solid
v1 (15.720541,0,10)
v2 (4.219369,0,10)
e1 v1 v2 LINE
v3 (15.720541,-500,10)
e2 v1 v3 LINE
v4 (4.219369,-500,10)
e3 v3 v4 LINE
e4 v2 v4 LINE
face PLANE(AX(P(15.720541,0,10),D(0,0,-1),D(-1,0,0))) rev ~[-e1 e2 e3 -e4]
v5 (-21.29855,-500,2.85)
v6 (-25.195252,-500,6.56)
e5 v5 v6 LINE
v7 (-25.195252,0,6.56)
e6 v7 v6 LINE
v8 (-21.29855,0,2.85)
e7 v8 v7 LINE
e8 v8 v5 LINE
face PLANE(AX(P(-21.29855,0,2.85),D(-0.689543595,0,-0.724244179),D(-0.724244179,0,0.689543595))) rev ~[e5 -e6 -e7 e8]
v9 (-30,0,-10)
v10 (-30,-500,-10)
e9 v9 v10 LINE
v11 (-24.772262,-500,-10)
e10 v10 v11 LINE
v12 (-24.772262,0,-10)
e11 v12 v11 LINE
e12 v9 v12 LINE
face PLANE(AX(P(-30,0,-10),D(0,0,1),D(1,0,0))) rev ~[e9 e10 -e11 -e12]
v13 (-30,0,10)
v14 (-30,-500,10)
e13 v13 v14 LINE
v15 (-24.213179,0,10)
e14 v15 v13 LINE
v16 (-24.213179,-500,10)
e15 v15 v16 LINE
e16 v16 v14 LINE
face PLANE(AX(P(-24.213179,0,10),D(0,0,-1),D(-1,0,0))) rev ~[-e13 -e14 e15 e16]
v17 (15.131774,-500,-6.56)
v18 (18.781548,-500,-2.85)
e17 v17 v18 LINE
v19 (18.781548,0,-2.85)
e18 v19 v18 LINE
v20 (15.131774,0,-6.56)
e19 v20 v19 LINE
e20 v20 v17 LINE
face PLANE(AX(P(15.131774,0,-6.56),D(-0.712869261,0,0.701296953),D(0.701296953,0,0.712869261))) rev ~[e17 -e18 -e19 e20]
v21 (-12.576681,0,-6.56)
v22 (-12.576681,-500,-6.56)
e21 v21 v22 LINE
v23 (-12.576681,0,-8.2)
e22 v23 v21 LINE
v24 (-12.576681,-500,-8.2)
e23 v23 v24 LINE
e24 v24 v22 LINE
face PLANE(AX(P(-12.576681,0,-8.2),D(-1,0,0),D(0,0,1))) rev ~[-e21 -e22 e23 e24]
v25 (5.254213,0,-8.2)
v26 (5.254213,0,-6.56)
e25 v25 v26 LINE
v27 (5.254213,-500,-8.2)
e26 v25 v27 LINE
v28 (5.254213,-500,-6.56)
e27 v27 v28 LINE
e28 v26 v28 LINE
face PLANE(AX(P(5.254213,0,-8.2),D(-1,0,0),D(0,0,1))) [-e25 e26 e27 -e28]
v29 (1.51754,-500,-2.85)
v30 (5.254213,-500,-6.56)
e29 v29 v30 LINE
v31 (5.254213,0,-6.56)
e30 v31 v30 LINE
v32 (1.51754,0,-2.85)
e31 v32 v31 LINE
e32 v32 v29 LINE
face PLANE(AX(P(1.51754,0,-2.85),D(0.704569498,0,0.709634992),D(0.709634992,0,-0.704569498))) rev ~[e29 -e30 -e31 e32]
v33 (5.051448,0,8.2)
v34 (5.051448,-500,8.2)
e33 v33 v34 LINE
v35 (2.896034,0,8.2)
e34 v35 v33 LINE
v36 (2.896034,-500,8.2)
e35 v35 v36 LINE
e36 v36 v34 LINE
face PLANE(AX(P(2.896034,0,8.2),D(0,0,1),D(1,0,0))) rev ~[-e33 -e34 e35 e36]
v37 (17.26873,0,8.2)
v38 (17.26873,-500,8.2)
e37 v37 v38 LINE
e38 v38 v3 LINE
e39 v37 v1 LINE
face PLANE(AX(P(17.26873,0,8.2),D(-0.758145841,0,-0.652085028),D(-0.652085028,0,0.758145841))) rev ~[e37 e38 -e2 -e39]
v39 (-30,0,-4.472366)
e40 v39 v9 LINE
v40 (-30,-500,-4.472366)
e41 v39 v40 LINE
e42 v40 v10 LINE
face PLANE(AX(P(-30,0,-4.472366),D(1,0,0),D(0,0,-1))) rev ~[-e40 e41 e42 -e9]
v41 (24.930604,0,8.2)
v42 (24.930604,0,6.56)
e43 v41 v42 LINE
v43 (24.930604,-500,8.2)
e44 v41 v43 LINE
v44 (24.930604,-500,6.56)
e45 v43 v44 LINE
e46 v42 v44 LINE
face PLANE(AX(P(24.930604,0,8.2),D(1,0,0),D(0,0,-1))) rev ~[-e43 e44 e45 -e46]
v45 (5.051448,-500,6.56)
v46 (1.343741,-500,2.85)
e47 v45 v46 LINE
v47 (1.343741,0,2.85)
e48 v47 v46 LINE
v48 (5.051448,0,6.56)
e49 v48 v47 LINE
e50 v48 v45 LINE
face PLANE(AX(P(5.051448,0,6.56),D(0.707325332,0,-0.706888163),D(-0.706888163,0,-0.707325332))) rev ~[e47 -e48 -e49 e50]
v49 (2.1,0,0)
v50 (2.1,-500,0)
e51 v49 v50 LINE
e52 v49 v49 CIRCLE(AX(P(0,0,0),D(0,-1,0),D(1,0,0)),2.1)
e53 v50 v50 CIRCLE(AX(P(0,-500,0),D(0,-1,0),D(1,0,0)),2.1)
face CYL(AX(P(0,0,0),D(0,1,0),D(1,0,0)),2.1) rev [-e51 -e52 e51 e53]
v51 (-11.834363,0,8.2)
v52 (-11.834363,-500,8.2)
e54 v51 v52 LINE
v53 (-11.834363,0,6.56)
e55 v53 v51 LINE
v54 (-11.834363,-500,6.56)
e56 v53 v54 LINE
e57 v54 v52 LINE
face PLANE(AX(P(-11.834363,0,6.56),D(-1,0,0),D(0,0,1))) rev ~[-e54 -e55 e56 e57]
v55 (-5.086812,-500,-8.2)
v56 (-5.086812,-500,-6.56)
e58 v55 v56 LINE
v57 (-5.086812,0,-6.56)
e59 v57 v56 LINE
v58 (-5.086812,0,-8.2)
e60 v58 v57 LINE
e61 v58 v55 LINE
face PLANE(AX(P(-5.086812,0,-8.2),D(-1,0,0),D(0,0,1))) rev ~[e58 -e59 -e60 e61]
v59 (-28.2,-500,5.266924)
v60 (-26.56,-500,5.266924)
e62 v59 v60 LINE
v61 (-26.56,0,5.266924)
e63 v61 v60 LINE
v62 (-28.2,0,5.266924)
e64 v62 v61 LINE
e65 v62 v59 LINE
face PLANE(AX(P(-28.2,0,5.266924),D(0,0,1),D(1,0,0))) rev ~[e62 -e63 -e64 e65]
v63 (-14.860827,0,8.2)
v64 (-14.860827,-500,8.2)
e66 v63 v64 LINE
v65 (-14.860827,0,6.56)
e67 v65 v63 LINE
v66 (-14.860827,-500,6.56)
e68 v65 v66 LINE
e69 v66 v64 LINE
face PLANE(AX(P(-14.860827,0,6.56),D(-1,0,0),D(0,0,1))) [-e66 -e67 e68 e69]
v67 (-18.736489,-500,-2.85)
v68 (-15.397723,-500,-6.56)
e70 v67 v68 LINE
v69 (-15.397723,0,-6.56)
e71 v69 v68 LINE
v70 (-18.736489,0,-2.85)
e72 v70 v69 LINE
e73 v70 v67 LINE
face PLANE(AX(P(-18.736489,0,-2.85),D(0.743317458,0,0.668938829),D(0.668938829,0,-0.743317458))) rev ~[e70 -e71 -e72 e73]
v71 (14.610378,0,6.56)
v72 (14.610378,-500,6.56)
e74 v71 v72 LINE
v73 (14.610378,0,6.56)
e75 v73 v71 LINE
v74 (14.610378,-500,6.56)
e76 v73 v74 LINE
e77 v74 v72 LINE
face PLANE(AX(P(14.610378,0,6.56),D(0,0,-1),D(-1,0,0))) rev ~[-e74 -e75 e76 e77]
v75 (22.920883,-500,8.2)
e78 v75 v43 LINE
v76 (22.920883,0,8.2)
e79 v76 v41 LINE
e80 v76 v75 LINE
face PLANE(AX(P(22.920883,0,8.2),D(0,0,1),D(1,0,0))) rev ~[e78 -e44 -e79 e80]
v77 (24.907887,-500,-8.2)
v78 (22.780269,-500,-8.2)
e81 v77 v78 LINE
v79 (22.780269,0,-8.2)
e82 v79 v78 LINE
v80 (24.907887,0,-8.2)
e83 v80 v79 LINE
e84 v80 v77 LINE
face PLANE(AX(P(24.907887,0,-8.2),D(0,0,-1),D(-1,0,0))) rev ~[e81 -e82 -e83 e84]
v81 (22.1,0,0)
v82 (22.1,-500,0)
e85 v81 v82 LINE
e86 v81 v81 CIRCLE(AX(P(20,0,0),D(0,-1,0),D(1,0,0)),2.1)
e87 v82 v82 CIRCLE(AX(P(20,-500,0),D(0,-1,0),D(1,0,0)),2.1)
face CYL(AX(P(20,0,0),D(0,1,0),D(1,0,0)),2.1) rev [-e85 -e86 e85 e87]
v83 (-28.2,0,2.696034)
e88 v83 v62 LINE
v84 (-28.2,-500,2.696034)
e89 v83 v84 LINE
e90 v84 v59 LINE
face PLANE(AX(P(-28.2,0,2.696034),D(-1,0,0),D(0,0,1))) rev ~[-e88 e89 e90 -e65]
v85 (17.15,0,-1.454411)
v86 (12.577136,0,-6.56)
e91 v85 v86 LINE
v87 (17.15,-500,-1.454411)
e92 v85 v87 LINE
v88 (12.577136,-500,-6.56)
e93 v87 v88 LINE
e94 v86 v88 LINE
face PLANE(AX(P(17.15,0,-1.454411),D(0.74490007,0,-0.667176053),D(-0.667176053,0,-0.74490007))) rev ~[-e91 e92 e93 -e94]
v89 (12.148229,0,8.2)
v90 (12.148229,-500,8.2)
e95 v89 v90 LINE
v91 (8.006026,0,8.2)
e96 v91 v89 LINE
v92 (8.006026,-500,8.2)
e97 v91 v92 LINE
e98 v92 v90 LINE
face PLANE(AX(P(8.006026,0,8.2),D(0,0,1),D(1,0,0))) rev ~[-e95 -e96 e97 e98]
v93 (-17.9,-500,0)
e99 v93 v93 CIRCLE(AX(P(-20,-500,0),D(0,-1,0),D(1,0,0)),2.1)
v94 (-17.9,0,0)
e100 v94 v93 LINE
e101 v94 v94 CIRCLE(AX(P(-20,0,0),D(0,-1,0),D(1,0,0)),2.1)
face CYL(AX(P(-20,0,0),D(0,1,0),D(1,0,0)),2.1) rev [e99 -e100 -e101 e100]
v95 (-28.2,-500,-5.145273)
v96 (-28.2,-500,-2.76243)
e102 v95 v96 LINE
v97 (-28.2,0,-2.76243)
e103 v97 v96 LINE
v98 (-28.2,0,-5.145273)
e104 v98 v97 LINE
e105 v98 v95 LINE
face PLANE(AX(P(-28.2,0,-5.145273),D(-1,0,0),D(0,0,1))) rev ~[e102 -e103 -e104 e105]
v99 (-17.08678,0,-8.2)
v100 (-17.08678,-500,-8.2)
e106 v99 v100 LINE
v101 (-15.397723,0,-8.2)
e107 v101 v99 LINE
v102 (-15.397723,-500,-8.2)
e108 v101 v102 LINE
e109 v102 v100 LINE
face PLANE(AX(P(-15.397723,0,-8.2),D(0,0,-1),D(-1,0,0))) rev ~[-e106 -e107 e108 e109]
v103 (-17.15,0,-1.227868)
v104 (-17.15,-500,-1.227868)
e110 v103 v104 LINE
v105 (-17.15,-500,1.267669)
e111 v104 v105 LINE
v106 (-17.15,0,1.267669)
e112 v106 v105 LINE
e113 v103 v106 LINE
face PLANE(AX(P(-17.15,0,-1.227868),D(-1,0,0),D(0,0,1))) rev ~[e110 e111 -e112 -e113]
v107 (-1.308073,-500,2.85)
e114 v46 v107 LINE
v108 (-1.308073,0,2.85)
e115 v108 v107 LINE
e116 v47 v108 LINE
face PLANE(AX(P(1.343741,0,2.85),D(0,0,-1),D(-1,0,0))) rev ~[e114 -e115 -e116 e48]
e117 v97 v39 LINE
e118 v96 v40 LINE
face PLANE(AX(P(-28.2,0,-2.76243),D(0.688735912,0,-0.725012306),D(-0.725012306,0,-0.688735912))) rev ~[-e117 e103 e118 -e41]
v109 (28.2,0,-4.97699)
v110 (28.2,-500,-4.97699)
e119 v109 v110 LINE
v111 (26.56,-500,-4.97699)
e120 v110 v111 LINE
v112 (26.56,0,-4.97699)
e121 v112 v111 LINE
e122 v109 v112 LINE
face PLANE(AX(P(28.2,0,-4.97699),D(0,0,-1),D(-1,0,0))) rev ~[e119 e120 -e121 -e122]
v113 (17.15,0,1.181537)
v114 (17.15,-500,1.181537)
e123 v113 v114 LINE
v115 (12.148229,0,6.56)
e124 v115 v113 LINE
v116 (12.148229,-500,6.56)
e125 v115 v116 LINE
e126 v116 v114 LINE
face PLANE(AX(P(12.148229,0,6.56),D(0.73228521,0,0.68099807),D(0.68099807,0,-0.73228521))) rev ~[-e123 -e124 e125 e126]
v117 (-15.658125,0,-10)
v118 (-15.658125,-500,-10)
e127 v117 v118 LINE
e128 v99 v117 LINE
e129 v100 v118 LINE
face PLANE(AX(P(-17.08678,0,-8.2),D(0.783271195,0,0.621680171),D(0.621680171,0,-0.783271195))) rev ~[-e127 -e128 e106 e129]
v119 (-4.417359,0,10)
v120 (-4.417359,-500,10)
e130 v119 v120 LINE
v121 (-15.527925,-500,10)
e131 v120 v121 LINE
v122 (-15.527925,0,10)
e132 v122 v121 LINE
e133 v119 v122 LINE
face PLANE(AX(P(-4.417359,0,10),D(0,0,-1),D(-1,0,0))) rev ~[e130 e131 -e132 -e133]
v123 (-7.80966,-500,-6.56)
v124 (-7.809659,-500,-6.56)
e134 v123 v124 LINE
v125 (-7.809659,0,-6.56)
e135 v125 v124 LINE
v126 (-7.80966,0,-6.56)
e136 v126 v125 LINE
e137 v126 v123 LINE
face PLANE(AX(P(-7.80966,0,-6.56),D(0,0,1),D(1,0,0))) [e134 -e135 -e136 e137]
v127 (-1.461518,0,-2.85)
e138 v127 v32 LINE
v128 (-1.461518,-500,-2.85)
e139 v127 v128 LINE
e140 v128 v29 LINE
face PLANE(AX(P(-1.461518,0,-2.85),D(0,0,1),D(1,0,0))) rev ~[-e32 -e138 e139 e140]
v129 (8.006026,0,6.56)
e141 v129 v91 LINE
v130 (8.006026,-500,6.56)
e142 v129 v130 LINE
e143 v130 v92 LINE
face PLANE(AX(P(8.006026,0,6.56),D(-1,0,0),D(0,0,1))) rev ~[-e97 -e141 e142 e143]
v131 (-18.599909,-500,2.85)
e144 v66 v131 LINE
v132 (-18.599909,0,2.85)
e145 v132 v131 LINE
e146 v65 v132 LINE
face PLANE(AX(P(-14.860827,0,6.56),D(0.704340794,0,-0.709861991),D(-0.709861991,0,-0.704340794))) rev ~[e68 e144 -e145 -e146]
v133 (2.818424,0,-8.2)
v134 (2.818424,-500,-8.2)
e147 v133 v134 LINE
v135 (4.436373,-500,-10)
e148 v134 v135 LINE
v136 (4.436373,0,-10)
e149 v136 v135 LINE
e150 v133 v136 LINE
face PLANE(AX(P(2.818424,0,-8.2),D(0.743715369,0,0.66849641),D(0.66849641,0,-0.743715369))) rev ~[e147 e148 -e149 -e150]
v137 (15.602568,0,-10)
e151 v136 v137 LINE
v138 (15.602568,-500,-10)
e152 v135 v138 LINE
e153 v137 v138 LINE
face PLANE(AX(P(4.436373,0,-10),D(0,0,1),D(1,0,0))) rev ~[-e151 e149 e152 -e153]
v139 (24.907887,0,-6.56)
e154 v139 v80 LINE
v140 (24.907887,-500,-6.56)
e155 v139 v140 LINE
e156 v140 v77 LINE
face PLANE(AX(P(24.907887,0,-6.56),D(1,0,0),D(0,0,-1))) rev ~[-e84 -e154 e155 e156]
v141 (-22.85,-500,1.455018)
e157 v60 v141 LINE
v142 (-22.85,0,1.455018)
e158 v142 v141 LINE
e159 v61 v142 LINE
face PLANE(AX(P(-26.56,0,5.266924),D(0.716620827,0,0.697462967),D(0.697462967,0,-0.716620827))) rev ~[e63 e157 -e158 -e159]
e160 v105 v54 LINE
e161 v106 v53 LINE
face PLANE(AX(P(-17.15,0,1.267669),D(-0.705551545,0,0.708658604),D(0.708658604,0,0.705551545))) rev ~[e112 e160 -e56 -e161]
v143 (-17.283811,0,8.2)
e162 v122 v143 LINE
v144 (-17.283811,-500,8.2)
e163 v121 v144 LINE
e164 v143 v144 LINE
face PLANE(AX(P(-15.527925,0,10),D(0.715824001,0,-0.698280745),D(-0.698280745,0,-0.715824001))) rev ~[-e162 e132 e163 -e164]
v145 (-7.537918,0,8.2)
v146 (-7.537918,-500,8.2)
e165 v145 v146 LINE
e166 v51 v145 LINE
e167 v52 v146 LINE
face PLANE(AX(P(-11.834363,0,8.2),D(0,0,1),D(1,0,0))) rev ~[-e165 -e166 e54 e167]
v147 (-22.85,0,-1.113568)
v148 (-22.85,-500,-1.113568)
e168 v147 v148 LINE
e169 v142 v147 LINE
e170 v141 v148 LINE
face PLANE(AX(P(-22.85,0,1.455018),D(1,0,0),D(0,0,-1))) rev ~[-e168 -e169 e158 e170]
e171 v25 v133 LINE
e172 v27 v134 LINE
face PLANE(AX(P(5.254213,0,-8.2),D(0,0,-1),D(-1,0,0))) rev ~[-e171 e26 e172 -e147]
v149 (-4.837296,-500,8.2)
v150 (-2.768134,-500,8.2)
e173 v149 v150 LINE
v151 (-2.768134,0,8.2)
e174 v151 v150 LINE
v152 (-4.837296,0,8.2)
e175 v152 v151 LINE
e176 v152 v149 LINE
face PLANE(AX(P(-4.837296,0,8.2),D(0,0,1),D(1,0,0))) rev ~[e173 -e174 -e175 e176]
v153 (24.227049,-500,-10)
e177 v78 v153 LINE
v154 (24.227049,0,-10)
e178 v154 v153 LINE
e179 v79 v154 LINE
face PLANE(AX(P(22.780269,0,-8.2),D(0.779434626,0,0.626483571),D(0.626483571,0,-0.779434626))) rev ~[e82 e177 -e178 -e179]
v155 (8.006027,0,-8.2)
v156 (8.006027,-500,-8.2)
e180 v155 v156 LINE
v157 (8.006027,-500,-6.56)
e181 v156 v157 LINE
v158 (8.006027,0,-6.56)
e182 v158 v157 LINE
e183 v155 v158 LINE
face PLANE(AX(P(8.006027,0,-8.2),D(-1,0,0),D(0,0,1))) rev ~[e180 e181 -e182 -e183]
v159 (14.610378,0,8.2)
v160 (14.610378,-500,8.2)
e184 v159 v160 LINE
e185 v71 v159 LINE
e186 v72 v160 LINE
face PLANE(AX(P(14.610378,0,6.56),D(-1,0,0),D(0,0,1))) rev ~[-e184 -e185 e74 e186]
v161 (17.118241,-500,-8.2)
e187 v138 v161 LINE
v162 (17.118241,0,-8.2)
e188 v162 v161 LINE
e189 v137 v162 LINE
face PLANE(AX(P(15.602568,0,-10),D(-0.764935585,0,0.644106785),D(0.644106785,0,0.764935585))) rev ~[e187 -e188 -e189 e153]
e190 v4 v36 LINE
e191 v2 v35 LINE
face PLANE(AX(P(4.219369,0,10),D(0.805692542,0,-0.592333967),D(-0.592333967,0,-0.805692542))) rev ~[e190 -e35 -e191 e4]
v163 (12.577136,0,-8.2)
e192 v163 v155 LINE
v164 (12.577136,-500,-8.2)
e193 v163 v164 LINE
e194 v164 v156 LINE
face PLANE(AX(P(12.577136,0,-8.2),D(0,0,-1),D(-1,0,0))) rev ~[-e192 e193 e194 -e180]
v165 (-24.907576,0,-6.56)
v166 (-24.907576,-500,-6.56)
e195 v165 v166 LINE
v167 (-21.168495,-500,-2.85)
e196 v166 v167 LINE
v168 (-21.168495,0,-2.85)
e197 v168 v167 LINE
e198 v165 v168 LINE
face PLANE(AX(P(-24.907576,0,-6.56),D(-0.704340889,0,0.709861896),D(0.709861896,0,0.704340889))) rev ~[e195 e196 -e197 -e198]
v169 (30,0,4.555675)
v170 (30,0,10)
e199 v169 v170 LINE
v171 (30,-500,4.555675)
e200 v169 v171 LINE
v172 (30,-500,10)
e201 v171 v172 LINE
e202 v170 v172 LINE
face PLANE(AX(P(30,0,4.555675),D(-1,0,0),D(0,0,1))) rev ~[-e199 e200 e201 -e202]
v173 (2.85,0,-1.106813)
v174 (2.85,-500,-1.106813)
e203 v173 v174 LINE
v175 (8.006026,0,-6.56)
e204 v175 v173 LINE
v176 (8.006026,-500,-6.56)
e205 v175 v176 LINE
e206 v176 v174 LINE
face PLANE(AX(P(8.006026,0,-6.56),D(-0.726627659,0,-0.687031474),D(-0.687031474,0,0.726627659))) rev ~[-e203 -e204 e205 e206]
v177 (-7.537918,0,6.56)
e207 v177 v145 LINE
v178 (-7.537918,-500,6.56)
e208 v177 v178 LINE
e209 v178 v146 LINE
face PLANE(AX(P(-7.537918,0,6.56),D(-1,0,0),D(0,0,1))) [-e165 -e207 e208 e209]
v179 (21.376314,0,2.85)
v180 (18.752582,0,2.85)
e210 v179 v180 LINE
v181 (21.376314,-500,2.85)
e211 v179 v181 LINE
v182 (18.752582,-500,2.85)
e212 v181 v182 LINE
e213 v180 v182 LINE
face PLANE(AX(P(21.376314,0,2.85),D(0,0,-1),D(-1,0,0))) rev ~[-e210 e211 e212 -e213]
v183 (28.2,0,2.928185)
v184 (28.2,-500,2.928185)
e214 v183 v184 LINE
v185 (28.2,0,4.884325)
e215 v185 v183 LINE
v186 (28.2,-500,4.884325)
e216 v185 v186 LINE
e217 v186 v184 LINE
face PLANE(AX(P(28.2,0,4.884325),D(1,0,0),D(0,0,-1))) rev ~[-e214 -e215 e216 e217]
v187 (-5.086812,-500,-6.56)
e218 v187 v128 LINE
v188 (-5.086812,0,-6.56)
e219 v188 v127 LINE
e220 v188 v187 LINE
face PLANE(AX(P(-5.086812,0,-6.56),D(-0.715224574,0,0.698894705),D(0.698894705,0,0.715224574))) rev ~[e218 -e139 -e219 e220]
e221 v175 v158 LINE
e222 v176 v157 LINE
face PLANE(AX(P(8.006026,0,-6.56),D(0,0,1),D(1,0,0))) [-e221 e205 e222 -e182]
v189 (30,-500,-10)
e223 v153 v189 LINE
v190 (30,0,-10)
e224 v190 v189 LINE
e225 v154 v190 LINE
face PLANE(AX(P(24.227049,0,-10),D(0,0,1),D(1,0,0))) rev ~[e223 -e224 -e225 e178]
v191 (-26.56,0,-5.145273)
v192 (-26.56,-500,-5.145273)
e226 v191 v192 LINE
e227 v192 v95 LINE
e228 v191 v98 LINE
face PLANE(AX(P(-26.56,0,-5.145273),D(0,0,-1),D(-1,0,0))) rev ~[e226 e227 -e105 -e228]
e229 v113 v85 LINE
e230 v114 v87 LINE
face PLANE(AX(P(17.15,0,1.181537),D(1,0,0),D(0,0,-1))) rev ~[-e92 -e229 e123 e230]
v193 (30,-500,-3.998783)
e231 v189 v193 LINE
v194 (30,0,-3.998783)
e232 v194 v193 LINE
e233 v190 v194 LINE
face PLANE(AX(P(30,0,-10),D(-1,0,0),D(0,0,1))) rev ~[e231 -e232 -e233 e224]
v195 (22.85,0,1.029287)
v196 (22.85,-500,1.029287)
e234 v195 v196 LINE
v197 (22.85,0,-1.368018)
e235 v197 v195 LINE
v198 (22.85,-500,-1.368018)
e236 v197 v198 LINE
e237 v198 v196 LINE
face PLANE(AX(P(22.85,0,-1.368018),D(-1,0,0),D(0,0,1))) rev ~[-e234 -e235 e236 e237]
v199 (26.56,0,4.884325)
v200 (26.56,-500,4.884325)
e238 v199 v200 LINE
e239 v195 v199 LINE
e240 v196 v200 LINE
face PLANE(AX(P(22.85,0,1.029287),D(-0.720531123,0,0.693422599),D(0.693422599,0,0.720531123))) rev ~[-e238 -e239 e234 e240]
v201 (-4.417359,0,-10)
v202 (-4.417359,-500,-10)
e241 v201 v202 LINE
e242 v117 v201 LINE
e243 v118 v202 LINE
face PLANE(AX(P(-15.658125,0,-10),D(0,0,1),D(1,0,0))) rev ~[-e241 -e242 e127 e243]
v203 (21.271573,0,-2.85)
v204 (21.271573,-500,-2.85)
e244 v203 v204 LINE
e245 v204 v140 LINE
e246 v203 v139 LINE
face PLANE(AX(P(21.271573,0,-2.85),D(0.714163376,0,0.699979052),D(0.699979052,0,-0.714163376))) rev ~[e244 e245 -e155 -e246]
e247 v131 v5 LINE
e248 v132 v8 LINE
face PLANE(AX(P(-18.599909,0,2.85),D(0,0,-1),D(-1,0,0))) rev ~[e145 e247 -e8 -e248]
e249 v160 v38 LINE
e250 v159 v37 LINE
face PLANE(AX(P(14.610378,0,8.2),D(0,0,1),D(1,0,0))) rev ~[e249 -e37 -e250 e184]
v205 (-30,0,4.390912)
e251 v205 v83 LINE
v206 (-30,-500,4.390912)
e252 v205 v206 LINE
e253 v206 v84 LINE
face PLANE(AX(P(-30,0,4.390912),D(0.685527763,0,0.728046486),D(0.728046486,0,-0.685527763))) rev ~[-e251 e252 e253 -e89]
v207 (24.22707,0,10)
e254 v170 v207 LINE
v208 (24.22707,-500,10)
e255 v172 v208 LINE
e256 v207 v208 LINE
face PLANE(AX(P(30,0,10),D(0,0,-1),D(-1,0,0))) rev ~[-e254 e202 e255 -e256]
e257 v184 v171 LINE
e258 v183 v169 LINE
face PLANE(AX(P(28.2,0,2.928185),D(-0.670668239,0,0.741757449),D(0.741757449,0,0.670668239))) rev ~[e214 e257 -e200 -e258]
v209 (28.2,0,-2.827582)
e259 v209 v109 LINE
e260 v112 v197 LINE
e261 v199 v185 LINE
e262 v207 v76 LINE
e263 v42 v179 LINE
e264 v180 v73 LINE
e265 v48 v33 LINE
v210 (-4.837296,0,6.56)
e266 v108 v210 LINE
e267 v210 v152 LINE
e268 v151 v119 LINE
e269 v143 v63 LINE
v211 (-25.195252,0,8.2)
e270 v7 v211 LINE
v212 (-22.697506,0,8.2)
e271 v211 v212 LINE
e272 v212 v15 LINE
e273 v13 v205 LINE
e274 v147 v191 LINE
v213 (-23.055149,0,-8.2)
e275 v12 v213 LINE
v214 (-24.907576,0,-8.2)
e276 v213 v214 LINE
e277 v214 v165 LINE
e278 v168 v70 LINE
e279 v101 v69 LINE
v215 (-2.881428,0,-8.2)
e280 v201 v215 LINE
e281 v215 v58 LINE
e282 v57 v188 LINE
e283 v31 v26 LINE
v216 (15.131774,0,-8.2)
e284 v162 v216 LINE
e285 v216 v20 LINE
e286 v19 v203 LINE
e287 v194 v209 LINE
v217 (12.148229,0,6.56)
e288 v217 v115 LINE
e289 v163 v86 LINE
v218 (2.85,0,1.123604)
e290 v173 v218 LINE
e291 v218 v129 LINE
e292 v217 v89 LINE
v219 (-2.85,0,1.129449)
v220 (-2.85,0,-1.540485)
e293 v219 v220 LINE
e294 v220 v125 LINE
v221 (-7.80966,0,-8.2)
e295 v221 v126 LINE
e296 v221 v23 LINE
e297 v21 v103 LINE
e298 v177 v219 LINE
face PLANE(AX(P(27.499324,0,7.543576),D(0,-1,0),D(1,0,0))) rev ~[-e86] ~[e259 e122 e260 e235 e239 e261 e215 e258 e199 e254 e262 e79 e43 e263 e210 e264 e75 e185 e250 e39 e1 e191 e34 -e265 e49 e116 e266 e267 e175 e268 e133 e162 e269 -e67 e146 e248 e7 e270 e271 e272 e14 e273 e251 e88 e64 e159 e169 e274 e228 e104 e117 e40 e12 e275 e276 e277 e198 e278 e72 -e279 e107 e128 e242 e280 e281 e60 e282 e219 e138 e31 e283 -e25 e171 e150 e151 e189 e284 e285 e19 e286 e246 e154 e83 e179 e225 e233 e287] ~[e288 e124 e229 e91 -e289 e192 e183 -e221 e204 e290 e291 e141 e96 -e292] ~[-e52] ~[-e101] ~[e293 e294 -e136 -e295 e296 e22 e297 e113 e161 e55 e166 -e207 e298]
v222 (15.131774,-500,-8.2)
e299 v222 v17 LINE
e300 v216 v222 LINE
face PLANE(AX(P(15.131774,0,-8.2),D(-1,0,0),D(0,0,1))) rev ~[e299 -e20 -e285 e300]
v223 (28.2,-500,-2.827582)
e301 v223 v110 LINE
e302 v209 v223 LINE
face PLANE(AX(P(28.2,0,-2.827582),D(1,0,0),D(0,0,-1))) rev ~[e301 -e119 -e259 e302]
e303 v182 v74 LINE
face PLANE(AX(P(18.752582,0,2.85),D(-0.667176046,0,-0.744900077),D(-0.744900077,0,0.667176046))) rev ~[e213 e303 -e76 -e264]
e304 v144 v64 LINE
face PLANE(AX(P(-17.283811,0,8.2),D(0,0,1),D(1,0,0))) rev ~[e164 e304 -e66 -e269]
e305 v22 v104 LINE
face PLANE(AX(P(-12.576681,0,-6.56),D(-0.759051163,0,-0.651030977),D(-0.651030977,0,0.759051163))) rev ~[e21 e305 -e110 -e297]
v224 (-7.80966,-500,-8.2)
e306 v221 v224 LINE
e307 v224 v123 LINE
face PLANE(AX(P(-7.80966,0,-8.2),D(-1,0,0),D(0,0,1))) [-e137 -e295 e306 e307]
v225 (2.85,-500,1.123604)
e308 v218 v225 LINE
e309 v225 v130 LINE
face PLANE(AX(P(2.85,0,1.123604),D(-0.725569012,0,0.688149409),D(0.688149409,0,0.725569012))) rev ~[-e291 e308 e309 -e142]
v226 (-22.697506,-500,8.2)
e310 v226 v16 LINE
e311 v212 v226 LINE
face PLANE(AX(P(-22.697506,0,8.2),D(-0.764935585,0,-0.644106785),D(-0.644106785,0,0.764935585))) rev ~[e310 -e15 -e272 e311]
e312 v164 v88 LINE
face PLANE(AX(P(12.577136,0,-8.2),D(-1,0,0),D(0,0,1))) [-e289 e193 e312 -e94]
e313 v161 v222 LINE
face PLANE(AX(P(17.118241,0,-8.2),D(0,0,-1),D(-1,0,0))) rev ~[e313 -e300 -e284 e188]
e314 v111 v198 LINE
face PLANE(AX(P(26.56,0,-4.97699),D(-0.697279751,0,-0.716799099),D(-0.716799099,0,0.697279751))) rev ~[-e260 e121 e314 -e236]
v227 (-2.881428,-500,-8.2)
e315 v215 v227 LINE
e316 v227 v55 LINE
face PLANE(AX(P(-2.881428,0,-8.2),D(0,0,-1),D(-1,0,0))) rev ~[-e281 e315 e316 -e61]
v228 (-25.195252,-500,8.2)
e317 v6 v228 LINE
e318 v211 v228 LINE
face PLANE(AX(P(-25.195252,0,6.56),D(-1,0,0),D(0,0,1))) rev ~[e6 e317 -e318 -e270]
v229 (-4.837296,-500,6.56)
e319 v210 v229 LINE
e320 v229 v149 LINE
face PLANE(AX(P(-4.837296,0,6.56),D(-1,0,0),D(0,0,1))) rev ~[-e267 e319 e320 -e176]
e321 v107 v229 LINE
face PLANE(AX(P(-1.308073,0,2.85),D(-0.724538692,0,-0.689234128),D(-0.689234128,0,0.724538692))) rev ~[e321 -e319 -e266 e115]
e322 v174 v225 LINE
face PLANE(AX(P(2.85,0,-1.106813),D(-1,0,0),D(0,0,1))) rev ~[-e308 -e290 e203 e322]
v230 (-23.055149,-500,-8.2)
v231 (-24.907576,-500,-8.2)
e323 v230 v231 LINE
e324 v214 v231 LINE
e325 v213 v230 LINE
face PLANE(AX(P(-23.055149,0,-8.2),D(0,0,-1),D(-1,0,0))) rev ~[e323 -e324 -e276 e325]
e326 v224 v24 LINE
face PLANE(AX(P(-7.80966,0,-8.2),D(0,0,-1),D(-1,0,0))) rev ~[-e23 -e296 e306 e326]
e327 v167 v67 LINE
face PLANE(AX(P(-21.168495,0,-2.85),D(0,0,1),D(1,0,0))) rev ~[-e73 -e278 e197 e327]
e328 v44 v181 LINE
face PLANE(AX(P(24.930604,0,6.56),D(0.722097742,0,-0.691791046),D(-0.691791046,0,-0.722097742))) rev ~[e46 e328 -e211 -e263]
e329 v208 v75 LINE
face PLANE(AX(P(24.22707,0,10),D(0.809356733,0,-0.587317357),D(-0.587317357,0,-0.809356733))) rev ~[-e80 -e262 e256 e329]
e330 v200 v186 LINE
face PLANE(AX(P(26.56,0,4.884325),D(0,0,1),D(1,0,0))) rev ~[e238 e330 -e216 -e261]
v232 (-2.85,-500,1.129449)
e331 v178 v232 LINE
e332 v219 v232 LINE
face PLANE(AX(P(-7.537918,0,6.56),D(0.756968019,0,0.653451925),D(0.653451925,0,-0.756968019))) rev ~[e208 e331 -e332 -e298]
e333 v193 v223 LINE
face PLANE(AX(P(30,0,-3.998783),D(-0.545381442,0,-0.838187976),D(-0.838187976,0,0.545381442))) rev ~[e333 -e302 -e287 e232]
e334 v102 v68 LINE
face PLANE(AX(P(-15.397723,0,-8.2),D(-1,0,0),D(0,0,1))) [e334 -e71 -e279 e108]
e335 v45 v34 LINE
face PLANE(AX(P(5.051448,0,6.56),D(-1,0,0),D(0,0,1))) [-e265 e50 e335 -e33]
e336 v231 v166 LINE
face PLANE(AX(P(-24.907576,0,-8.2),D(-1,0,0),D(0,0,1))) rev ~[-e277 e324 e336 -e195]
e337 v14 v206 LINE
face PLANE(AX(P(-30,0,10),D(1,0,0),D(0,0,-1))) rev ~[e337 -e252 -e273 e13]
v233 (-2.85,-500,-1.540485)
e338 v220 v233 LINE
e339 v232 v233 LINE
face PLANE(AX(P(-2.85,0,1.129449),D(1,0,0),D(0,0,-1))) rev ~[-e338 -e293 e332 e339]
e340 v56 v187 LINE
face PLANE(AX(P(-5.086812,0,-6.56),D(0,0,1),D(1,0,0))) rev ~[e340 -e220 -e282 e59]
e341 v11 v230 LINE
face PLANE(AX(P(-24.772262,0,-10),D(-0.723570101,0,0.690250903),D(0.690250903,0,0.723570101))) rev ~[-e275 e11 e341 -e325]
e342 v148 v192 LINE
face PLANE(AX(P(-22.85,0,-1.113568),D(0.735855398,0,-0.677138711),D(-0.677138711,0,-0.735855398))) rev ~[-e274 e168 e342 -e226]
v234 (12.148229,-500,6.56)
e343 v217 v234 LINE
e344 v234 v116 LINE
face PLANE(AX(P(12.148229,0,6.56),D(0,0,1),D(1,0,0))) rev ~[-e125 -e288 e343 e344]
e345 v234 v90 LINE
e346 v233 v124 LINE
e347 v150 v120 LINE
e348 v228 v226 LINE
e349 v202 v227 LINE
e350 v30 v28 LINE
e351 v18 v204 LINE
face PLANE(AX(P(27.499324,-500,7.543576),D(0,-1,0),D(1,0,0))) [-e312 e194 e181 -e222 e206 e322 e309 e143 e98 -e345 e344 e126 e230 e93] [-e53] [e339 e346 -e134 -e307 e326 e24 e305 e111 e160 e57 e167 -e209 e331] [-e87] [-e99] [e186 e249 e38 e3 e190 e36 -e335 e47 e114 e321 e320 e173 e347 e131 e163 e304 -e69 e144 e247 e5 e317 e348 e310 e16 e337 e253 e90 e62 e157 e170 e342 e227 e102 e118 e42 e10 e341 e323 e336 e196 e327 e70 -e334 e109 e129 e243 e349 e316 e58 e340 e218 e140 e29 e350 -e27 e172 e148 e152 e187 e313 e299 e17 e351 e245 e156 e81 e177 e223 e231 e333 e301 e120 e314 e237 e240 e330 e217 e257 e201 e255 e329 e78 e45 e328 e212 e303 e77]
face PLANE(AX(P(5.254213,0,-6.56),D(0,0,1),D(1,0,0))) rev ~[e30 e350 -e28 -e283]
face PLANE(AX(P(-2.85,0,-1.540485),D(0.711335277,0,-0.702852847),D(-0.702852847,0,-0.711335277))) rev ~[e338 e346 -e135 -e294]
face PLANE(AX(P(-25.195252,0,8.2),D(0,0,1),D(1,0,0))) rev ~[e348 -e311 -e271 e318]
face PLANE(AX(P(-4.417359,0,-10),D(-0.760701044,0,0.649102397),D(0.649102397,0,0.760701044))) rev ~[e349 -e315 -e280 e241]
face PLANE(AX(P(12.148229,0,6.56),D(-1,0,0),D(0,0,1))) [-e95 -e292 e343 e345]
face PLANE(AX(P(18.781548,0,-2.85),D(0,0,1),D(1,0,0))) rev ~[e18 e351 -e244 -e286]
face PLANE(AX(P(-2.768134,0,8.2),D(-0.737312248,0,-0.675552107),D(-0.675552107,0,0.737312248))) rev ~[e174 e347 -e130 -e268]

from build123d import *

# Parameters (mm, degrees)
F0_R     = 2.1
F0_W     = 2.462149
F0_H     = 1.64
F0_W_2   = 2.954578
F0_W_3   = 2.554638
F0_W_4   = 2.751813
F0_W_5   = 2.700622
F0_W_6   = 3.026464
F0_W_7   = 2.722847
F0_W_8   = 2.821042
F1_DEPTH = 500


with BuildPart() as f1:
    # F0 (on Front) → F1 (new body)
    with BuildSketch(Plane.XZ):
        Polygon((30, 4.555675), (30, 10), (24.22707, 10), (22.920883, 8.2), (24.930604, 8.2), (28.2, 8.2), (28.2, 4.884325), (28.2, 2.928185), align=None)
        Polygon((28.2, 8.2), (24.930604, 8.2), (24.930604, 6.56), (26.56, 6.56), (26.56, 4.884325), (28.2, 4.884325), align=None)
        Polygon((26.56, 6.56), (24.930604, 6.56), (21.376314, 2.85), (22.85, 2.85), (22.85, 1.029287), (26.56, 4.884325), align=None)
        Polygon((28.2, -4.97699), (26.56, -4.97699), (26.56, -6.56), (24.907887, -6.56), (24.907887, -8.2), (28.2, -8.2), align=None)
        Polygon((28.2, -2.827582), (28.2, -4.97699), (28.2, -8.2), (24.907887, -8.2), (22.780269, -8.2), (24.227049, -10), (30, -10), (30, -3.998783), align=None)
        Polygon((26.56, -4.97699), (22.85, -1.368018), (22.85, -2.85), (21.271573, -2.85), (24.907887, -6.56), (26.56, -6.56), align=None)
        Polygon((22.85, 2.85), (21.376314, 2.85), (18.752582, 2.85), (17.15, 2.85), (17.15, 1.181537), (17.15, -1.454411), (17.15, -2.85), (18.781548, -2.85), (21.271573, -2.85), (22.85, -2.85), (22.85, -1.368018), (22.85, 1.029287), align=None)
        with Locations((20, 0)):
            Circle(F0_R, mode=Mode.SUBTRACT)
        Polygon((17.15, 2.85), (18.752582, 2.85), (14.610378, 6.56), (12.148229, 6.56), (17.15, 1.181537), align=None)
        with Locations((13.379303, 7.38)):
            Rectangle(F0_W, F0_H)
        Polygon((12.148229, 8.2), (14.610378, 8.2), (17.26873, 8.2), (15.720541, 10), (4.219369, 10), (2.896034, 8.2), (5.051448, 8.2), (8.006026, 8.2), align=None)
        with Locations((6.528737, 7.38)):
            Rectangle(F0_W_2, F0_H)
        Polygon((2.85, 1.123604), (8.006026, 6.56), (5.051448, 6.56), (1.343741, 2.85), (2.85, 2.85), align=None)
        Polygon((17.15, -2.85), (17.15, -1.454411), (12.577136, -6.56), (15.131774, -6.56), (18.781548, -2.85), align=None)
        with Locations((13.854455, -7.38)):
            Rectangle(F0_W_3, F0_H)
        Polygon((15.131774, -8.2), (12.577136, -8.2), (8.006026, -8.2), (5.254213, -8.2), (2.818424, -8.2), (4.436373, -10), (15.602568, -10), (17.118241, -8.2), align=None)
        with Locations((6.63012, -7.38)):
            Rectangle(F0_W_4, F0_H)
        Polygon((5.254213, -6.56), (8.006026, -6.56), (2.85, -1.106813), (2.85, -2.85), (1.51754, -2.85), align=None)
        Polygon((2.85, -1.106813), (2.85, 1.123604), (2.85, 2.85), (1.343741, 2.85), (-1.308073, 2.85), (-2.85, 2.85), (-2.85, 1.129449), (-2.85, -1.540485), (-2.85, -2.85), (-1.461518, -2.85), (1.51754, -2.85), (2.85, -2.85), align=None)
        Circle(F0_R, mode=Mode.SUBTRACT)
        Polygon((-2.85, 2.85), (-1.308073, 2.85), (-4.837296, 6.56), (-7.537918, 6.56), (-2.85, 1.129449), align=None)
        with Locations((-6.187607, 7.38)):
            Rectangle(F0_W_5, F0_H)
        Polygon((-7.537918, 8.2), (-4.837296, 8.2), (-2.768134, 8.2), (-4.417359, 10), (-15.527925, 10), (-17.283811, 8.2), (-14.860827, 8.2), (-11.834363, 8.2), align=None)
        with Locations((-13.347595, 7.38)):
            Rectangle(F0_W_6, F0_H)
        Polygon((-17.15, 1.267669), (-11.834363, 6.56), (-14.860827, 6.56), (-18.599909, 2.85), (-17.15, 2.85), align=None)
        Polygon((-5.086812, -6.56), (-1.461518, -2.85), (-2.85, -2.85), (-2.85, -1.540485), (-7.809659, -6.56), align=None)
        with Locations((-6.448236, -7.38)):
            Rectangle(F0_W_7, F0_H)
        Polygon((-2.881428, -8.2), (-5.086812, -8.2), (-7.809659, -8.2), (-12.576681, -8.2), (-15.397723, -8.2), (-17.08678, -8.2), (-15.658125, -10), (-4.417359, -10), align=None)
        with Locations((-13.987202, -7.38)):
            Rectangle(F0_W_8, F0_H)
        Polygon((-15.397723, -6.56), (-12.576681, -6.56), (-17.15, -1.227868), (-17.15, -2.85), (-18.736489, -2.85), align=None)
        Polygon((-17.15, -1.227868), (-17.15, 1.267669), (-17.15, 2.85), (-18.599909, 2.85), (-21.29855, 2.85), (-22.85, 2.85), (-22.85, 1.455018), (-22.85, -1.113568), (-22.85, -2.85), (-21.168495, -2.85), (-18.736489, -2.85), (-17.15, -2.85), align=None)
        with Locations((-20, 0)):
            Circle(F0_R, mode=Mode.SUBTRACT)
        Polygon((-22.85, 2.85), (-21.29855, 2.85), (-25.195252, 6.56), (-26.56, 6.56), (-26.56, 5.266924), (-22.85, 1.455018), align=None)
        Polygon((-24.907576, -6.56), (-21.168495, -2.85), (-22.85, -2.85), (-22.85, -1.113568), (-26.56, -5.145273), (-26.56, -6.56), align=None)
        Polygon((-26.56, 6.56), (-25.195252, 6.56), (-25.195252, 8.2), (-28.2, 8.2), (-28.2, 5.266924), (-26.56, 5.266924), align=None)
        Polygon((-28.2, 8.2), (-25.195252, 8.2), (-22.697506, 8.2), (-24.213179, 10), (-30, 10), (-30, 4.390912), (-28.2, 2.696034), (-28.2, 5.266924), align=None)
        Polygon((-24.907576, -8.2), (-24.907576, -6.56), (-26.56, -6.56), (-26.56, -5.145273), (-28.2, -5.145273), (-28.2, -8.2), align=None)
        Polygon((-23.055149, -8.2), (-24.907576, -8.2), (-28.2, -8.2), (-28.2, -5.145273), (-28.2, -2.76243), (-30, -4.472366), (-30, -10), (-24.772262, -10), align=None)
    extrude(amount=F1_DEPTH)


solid = f1.part
